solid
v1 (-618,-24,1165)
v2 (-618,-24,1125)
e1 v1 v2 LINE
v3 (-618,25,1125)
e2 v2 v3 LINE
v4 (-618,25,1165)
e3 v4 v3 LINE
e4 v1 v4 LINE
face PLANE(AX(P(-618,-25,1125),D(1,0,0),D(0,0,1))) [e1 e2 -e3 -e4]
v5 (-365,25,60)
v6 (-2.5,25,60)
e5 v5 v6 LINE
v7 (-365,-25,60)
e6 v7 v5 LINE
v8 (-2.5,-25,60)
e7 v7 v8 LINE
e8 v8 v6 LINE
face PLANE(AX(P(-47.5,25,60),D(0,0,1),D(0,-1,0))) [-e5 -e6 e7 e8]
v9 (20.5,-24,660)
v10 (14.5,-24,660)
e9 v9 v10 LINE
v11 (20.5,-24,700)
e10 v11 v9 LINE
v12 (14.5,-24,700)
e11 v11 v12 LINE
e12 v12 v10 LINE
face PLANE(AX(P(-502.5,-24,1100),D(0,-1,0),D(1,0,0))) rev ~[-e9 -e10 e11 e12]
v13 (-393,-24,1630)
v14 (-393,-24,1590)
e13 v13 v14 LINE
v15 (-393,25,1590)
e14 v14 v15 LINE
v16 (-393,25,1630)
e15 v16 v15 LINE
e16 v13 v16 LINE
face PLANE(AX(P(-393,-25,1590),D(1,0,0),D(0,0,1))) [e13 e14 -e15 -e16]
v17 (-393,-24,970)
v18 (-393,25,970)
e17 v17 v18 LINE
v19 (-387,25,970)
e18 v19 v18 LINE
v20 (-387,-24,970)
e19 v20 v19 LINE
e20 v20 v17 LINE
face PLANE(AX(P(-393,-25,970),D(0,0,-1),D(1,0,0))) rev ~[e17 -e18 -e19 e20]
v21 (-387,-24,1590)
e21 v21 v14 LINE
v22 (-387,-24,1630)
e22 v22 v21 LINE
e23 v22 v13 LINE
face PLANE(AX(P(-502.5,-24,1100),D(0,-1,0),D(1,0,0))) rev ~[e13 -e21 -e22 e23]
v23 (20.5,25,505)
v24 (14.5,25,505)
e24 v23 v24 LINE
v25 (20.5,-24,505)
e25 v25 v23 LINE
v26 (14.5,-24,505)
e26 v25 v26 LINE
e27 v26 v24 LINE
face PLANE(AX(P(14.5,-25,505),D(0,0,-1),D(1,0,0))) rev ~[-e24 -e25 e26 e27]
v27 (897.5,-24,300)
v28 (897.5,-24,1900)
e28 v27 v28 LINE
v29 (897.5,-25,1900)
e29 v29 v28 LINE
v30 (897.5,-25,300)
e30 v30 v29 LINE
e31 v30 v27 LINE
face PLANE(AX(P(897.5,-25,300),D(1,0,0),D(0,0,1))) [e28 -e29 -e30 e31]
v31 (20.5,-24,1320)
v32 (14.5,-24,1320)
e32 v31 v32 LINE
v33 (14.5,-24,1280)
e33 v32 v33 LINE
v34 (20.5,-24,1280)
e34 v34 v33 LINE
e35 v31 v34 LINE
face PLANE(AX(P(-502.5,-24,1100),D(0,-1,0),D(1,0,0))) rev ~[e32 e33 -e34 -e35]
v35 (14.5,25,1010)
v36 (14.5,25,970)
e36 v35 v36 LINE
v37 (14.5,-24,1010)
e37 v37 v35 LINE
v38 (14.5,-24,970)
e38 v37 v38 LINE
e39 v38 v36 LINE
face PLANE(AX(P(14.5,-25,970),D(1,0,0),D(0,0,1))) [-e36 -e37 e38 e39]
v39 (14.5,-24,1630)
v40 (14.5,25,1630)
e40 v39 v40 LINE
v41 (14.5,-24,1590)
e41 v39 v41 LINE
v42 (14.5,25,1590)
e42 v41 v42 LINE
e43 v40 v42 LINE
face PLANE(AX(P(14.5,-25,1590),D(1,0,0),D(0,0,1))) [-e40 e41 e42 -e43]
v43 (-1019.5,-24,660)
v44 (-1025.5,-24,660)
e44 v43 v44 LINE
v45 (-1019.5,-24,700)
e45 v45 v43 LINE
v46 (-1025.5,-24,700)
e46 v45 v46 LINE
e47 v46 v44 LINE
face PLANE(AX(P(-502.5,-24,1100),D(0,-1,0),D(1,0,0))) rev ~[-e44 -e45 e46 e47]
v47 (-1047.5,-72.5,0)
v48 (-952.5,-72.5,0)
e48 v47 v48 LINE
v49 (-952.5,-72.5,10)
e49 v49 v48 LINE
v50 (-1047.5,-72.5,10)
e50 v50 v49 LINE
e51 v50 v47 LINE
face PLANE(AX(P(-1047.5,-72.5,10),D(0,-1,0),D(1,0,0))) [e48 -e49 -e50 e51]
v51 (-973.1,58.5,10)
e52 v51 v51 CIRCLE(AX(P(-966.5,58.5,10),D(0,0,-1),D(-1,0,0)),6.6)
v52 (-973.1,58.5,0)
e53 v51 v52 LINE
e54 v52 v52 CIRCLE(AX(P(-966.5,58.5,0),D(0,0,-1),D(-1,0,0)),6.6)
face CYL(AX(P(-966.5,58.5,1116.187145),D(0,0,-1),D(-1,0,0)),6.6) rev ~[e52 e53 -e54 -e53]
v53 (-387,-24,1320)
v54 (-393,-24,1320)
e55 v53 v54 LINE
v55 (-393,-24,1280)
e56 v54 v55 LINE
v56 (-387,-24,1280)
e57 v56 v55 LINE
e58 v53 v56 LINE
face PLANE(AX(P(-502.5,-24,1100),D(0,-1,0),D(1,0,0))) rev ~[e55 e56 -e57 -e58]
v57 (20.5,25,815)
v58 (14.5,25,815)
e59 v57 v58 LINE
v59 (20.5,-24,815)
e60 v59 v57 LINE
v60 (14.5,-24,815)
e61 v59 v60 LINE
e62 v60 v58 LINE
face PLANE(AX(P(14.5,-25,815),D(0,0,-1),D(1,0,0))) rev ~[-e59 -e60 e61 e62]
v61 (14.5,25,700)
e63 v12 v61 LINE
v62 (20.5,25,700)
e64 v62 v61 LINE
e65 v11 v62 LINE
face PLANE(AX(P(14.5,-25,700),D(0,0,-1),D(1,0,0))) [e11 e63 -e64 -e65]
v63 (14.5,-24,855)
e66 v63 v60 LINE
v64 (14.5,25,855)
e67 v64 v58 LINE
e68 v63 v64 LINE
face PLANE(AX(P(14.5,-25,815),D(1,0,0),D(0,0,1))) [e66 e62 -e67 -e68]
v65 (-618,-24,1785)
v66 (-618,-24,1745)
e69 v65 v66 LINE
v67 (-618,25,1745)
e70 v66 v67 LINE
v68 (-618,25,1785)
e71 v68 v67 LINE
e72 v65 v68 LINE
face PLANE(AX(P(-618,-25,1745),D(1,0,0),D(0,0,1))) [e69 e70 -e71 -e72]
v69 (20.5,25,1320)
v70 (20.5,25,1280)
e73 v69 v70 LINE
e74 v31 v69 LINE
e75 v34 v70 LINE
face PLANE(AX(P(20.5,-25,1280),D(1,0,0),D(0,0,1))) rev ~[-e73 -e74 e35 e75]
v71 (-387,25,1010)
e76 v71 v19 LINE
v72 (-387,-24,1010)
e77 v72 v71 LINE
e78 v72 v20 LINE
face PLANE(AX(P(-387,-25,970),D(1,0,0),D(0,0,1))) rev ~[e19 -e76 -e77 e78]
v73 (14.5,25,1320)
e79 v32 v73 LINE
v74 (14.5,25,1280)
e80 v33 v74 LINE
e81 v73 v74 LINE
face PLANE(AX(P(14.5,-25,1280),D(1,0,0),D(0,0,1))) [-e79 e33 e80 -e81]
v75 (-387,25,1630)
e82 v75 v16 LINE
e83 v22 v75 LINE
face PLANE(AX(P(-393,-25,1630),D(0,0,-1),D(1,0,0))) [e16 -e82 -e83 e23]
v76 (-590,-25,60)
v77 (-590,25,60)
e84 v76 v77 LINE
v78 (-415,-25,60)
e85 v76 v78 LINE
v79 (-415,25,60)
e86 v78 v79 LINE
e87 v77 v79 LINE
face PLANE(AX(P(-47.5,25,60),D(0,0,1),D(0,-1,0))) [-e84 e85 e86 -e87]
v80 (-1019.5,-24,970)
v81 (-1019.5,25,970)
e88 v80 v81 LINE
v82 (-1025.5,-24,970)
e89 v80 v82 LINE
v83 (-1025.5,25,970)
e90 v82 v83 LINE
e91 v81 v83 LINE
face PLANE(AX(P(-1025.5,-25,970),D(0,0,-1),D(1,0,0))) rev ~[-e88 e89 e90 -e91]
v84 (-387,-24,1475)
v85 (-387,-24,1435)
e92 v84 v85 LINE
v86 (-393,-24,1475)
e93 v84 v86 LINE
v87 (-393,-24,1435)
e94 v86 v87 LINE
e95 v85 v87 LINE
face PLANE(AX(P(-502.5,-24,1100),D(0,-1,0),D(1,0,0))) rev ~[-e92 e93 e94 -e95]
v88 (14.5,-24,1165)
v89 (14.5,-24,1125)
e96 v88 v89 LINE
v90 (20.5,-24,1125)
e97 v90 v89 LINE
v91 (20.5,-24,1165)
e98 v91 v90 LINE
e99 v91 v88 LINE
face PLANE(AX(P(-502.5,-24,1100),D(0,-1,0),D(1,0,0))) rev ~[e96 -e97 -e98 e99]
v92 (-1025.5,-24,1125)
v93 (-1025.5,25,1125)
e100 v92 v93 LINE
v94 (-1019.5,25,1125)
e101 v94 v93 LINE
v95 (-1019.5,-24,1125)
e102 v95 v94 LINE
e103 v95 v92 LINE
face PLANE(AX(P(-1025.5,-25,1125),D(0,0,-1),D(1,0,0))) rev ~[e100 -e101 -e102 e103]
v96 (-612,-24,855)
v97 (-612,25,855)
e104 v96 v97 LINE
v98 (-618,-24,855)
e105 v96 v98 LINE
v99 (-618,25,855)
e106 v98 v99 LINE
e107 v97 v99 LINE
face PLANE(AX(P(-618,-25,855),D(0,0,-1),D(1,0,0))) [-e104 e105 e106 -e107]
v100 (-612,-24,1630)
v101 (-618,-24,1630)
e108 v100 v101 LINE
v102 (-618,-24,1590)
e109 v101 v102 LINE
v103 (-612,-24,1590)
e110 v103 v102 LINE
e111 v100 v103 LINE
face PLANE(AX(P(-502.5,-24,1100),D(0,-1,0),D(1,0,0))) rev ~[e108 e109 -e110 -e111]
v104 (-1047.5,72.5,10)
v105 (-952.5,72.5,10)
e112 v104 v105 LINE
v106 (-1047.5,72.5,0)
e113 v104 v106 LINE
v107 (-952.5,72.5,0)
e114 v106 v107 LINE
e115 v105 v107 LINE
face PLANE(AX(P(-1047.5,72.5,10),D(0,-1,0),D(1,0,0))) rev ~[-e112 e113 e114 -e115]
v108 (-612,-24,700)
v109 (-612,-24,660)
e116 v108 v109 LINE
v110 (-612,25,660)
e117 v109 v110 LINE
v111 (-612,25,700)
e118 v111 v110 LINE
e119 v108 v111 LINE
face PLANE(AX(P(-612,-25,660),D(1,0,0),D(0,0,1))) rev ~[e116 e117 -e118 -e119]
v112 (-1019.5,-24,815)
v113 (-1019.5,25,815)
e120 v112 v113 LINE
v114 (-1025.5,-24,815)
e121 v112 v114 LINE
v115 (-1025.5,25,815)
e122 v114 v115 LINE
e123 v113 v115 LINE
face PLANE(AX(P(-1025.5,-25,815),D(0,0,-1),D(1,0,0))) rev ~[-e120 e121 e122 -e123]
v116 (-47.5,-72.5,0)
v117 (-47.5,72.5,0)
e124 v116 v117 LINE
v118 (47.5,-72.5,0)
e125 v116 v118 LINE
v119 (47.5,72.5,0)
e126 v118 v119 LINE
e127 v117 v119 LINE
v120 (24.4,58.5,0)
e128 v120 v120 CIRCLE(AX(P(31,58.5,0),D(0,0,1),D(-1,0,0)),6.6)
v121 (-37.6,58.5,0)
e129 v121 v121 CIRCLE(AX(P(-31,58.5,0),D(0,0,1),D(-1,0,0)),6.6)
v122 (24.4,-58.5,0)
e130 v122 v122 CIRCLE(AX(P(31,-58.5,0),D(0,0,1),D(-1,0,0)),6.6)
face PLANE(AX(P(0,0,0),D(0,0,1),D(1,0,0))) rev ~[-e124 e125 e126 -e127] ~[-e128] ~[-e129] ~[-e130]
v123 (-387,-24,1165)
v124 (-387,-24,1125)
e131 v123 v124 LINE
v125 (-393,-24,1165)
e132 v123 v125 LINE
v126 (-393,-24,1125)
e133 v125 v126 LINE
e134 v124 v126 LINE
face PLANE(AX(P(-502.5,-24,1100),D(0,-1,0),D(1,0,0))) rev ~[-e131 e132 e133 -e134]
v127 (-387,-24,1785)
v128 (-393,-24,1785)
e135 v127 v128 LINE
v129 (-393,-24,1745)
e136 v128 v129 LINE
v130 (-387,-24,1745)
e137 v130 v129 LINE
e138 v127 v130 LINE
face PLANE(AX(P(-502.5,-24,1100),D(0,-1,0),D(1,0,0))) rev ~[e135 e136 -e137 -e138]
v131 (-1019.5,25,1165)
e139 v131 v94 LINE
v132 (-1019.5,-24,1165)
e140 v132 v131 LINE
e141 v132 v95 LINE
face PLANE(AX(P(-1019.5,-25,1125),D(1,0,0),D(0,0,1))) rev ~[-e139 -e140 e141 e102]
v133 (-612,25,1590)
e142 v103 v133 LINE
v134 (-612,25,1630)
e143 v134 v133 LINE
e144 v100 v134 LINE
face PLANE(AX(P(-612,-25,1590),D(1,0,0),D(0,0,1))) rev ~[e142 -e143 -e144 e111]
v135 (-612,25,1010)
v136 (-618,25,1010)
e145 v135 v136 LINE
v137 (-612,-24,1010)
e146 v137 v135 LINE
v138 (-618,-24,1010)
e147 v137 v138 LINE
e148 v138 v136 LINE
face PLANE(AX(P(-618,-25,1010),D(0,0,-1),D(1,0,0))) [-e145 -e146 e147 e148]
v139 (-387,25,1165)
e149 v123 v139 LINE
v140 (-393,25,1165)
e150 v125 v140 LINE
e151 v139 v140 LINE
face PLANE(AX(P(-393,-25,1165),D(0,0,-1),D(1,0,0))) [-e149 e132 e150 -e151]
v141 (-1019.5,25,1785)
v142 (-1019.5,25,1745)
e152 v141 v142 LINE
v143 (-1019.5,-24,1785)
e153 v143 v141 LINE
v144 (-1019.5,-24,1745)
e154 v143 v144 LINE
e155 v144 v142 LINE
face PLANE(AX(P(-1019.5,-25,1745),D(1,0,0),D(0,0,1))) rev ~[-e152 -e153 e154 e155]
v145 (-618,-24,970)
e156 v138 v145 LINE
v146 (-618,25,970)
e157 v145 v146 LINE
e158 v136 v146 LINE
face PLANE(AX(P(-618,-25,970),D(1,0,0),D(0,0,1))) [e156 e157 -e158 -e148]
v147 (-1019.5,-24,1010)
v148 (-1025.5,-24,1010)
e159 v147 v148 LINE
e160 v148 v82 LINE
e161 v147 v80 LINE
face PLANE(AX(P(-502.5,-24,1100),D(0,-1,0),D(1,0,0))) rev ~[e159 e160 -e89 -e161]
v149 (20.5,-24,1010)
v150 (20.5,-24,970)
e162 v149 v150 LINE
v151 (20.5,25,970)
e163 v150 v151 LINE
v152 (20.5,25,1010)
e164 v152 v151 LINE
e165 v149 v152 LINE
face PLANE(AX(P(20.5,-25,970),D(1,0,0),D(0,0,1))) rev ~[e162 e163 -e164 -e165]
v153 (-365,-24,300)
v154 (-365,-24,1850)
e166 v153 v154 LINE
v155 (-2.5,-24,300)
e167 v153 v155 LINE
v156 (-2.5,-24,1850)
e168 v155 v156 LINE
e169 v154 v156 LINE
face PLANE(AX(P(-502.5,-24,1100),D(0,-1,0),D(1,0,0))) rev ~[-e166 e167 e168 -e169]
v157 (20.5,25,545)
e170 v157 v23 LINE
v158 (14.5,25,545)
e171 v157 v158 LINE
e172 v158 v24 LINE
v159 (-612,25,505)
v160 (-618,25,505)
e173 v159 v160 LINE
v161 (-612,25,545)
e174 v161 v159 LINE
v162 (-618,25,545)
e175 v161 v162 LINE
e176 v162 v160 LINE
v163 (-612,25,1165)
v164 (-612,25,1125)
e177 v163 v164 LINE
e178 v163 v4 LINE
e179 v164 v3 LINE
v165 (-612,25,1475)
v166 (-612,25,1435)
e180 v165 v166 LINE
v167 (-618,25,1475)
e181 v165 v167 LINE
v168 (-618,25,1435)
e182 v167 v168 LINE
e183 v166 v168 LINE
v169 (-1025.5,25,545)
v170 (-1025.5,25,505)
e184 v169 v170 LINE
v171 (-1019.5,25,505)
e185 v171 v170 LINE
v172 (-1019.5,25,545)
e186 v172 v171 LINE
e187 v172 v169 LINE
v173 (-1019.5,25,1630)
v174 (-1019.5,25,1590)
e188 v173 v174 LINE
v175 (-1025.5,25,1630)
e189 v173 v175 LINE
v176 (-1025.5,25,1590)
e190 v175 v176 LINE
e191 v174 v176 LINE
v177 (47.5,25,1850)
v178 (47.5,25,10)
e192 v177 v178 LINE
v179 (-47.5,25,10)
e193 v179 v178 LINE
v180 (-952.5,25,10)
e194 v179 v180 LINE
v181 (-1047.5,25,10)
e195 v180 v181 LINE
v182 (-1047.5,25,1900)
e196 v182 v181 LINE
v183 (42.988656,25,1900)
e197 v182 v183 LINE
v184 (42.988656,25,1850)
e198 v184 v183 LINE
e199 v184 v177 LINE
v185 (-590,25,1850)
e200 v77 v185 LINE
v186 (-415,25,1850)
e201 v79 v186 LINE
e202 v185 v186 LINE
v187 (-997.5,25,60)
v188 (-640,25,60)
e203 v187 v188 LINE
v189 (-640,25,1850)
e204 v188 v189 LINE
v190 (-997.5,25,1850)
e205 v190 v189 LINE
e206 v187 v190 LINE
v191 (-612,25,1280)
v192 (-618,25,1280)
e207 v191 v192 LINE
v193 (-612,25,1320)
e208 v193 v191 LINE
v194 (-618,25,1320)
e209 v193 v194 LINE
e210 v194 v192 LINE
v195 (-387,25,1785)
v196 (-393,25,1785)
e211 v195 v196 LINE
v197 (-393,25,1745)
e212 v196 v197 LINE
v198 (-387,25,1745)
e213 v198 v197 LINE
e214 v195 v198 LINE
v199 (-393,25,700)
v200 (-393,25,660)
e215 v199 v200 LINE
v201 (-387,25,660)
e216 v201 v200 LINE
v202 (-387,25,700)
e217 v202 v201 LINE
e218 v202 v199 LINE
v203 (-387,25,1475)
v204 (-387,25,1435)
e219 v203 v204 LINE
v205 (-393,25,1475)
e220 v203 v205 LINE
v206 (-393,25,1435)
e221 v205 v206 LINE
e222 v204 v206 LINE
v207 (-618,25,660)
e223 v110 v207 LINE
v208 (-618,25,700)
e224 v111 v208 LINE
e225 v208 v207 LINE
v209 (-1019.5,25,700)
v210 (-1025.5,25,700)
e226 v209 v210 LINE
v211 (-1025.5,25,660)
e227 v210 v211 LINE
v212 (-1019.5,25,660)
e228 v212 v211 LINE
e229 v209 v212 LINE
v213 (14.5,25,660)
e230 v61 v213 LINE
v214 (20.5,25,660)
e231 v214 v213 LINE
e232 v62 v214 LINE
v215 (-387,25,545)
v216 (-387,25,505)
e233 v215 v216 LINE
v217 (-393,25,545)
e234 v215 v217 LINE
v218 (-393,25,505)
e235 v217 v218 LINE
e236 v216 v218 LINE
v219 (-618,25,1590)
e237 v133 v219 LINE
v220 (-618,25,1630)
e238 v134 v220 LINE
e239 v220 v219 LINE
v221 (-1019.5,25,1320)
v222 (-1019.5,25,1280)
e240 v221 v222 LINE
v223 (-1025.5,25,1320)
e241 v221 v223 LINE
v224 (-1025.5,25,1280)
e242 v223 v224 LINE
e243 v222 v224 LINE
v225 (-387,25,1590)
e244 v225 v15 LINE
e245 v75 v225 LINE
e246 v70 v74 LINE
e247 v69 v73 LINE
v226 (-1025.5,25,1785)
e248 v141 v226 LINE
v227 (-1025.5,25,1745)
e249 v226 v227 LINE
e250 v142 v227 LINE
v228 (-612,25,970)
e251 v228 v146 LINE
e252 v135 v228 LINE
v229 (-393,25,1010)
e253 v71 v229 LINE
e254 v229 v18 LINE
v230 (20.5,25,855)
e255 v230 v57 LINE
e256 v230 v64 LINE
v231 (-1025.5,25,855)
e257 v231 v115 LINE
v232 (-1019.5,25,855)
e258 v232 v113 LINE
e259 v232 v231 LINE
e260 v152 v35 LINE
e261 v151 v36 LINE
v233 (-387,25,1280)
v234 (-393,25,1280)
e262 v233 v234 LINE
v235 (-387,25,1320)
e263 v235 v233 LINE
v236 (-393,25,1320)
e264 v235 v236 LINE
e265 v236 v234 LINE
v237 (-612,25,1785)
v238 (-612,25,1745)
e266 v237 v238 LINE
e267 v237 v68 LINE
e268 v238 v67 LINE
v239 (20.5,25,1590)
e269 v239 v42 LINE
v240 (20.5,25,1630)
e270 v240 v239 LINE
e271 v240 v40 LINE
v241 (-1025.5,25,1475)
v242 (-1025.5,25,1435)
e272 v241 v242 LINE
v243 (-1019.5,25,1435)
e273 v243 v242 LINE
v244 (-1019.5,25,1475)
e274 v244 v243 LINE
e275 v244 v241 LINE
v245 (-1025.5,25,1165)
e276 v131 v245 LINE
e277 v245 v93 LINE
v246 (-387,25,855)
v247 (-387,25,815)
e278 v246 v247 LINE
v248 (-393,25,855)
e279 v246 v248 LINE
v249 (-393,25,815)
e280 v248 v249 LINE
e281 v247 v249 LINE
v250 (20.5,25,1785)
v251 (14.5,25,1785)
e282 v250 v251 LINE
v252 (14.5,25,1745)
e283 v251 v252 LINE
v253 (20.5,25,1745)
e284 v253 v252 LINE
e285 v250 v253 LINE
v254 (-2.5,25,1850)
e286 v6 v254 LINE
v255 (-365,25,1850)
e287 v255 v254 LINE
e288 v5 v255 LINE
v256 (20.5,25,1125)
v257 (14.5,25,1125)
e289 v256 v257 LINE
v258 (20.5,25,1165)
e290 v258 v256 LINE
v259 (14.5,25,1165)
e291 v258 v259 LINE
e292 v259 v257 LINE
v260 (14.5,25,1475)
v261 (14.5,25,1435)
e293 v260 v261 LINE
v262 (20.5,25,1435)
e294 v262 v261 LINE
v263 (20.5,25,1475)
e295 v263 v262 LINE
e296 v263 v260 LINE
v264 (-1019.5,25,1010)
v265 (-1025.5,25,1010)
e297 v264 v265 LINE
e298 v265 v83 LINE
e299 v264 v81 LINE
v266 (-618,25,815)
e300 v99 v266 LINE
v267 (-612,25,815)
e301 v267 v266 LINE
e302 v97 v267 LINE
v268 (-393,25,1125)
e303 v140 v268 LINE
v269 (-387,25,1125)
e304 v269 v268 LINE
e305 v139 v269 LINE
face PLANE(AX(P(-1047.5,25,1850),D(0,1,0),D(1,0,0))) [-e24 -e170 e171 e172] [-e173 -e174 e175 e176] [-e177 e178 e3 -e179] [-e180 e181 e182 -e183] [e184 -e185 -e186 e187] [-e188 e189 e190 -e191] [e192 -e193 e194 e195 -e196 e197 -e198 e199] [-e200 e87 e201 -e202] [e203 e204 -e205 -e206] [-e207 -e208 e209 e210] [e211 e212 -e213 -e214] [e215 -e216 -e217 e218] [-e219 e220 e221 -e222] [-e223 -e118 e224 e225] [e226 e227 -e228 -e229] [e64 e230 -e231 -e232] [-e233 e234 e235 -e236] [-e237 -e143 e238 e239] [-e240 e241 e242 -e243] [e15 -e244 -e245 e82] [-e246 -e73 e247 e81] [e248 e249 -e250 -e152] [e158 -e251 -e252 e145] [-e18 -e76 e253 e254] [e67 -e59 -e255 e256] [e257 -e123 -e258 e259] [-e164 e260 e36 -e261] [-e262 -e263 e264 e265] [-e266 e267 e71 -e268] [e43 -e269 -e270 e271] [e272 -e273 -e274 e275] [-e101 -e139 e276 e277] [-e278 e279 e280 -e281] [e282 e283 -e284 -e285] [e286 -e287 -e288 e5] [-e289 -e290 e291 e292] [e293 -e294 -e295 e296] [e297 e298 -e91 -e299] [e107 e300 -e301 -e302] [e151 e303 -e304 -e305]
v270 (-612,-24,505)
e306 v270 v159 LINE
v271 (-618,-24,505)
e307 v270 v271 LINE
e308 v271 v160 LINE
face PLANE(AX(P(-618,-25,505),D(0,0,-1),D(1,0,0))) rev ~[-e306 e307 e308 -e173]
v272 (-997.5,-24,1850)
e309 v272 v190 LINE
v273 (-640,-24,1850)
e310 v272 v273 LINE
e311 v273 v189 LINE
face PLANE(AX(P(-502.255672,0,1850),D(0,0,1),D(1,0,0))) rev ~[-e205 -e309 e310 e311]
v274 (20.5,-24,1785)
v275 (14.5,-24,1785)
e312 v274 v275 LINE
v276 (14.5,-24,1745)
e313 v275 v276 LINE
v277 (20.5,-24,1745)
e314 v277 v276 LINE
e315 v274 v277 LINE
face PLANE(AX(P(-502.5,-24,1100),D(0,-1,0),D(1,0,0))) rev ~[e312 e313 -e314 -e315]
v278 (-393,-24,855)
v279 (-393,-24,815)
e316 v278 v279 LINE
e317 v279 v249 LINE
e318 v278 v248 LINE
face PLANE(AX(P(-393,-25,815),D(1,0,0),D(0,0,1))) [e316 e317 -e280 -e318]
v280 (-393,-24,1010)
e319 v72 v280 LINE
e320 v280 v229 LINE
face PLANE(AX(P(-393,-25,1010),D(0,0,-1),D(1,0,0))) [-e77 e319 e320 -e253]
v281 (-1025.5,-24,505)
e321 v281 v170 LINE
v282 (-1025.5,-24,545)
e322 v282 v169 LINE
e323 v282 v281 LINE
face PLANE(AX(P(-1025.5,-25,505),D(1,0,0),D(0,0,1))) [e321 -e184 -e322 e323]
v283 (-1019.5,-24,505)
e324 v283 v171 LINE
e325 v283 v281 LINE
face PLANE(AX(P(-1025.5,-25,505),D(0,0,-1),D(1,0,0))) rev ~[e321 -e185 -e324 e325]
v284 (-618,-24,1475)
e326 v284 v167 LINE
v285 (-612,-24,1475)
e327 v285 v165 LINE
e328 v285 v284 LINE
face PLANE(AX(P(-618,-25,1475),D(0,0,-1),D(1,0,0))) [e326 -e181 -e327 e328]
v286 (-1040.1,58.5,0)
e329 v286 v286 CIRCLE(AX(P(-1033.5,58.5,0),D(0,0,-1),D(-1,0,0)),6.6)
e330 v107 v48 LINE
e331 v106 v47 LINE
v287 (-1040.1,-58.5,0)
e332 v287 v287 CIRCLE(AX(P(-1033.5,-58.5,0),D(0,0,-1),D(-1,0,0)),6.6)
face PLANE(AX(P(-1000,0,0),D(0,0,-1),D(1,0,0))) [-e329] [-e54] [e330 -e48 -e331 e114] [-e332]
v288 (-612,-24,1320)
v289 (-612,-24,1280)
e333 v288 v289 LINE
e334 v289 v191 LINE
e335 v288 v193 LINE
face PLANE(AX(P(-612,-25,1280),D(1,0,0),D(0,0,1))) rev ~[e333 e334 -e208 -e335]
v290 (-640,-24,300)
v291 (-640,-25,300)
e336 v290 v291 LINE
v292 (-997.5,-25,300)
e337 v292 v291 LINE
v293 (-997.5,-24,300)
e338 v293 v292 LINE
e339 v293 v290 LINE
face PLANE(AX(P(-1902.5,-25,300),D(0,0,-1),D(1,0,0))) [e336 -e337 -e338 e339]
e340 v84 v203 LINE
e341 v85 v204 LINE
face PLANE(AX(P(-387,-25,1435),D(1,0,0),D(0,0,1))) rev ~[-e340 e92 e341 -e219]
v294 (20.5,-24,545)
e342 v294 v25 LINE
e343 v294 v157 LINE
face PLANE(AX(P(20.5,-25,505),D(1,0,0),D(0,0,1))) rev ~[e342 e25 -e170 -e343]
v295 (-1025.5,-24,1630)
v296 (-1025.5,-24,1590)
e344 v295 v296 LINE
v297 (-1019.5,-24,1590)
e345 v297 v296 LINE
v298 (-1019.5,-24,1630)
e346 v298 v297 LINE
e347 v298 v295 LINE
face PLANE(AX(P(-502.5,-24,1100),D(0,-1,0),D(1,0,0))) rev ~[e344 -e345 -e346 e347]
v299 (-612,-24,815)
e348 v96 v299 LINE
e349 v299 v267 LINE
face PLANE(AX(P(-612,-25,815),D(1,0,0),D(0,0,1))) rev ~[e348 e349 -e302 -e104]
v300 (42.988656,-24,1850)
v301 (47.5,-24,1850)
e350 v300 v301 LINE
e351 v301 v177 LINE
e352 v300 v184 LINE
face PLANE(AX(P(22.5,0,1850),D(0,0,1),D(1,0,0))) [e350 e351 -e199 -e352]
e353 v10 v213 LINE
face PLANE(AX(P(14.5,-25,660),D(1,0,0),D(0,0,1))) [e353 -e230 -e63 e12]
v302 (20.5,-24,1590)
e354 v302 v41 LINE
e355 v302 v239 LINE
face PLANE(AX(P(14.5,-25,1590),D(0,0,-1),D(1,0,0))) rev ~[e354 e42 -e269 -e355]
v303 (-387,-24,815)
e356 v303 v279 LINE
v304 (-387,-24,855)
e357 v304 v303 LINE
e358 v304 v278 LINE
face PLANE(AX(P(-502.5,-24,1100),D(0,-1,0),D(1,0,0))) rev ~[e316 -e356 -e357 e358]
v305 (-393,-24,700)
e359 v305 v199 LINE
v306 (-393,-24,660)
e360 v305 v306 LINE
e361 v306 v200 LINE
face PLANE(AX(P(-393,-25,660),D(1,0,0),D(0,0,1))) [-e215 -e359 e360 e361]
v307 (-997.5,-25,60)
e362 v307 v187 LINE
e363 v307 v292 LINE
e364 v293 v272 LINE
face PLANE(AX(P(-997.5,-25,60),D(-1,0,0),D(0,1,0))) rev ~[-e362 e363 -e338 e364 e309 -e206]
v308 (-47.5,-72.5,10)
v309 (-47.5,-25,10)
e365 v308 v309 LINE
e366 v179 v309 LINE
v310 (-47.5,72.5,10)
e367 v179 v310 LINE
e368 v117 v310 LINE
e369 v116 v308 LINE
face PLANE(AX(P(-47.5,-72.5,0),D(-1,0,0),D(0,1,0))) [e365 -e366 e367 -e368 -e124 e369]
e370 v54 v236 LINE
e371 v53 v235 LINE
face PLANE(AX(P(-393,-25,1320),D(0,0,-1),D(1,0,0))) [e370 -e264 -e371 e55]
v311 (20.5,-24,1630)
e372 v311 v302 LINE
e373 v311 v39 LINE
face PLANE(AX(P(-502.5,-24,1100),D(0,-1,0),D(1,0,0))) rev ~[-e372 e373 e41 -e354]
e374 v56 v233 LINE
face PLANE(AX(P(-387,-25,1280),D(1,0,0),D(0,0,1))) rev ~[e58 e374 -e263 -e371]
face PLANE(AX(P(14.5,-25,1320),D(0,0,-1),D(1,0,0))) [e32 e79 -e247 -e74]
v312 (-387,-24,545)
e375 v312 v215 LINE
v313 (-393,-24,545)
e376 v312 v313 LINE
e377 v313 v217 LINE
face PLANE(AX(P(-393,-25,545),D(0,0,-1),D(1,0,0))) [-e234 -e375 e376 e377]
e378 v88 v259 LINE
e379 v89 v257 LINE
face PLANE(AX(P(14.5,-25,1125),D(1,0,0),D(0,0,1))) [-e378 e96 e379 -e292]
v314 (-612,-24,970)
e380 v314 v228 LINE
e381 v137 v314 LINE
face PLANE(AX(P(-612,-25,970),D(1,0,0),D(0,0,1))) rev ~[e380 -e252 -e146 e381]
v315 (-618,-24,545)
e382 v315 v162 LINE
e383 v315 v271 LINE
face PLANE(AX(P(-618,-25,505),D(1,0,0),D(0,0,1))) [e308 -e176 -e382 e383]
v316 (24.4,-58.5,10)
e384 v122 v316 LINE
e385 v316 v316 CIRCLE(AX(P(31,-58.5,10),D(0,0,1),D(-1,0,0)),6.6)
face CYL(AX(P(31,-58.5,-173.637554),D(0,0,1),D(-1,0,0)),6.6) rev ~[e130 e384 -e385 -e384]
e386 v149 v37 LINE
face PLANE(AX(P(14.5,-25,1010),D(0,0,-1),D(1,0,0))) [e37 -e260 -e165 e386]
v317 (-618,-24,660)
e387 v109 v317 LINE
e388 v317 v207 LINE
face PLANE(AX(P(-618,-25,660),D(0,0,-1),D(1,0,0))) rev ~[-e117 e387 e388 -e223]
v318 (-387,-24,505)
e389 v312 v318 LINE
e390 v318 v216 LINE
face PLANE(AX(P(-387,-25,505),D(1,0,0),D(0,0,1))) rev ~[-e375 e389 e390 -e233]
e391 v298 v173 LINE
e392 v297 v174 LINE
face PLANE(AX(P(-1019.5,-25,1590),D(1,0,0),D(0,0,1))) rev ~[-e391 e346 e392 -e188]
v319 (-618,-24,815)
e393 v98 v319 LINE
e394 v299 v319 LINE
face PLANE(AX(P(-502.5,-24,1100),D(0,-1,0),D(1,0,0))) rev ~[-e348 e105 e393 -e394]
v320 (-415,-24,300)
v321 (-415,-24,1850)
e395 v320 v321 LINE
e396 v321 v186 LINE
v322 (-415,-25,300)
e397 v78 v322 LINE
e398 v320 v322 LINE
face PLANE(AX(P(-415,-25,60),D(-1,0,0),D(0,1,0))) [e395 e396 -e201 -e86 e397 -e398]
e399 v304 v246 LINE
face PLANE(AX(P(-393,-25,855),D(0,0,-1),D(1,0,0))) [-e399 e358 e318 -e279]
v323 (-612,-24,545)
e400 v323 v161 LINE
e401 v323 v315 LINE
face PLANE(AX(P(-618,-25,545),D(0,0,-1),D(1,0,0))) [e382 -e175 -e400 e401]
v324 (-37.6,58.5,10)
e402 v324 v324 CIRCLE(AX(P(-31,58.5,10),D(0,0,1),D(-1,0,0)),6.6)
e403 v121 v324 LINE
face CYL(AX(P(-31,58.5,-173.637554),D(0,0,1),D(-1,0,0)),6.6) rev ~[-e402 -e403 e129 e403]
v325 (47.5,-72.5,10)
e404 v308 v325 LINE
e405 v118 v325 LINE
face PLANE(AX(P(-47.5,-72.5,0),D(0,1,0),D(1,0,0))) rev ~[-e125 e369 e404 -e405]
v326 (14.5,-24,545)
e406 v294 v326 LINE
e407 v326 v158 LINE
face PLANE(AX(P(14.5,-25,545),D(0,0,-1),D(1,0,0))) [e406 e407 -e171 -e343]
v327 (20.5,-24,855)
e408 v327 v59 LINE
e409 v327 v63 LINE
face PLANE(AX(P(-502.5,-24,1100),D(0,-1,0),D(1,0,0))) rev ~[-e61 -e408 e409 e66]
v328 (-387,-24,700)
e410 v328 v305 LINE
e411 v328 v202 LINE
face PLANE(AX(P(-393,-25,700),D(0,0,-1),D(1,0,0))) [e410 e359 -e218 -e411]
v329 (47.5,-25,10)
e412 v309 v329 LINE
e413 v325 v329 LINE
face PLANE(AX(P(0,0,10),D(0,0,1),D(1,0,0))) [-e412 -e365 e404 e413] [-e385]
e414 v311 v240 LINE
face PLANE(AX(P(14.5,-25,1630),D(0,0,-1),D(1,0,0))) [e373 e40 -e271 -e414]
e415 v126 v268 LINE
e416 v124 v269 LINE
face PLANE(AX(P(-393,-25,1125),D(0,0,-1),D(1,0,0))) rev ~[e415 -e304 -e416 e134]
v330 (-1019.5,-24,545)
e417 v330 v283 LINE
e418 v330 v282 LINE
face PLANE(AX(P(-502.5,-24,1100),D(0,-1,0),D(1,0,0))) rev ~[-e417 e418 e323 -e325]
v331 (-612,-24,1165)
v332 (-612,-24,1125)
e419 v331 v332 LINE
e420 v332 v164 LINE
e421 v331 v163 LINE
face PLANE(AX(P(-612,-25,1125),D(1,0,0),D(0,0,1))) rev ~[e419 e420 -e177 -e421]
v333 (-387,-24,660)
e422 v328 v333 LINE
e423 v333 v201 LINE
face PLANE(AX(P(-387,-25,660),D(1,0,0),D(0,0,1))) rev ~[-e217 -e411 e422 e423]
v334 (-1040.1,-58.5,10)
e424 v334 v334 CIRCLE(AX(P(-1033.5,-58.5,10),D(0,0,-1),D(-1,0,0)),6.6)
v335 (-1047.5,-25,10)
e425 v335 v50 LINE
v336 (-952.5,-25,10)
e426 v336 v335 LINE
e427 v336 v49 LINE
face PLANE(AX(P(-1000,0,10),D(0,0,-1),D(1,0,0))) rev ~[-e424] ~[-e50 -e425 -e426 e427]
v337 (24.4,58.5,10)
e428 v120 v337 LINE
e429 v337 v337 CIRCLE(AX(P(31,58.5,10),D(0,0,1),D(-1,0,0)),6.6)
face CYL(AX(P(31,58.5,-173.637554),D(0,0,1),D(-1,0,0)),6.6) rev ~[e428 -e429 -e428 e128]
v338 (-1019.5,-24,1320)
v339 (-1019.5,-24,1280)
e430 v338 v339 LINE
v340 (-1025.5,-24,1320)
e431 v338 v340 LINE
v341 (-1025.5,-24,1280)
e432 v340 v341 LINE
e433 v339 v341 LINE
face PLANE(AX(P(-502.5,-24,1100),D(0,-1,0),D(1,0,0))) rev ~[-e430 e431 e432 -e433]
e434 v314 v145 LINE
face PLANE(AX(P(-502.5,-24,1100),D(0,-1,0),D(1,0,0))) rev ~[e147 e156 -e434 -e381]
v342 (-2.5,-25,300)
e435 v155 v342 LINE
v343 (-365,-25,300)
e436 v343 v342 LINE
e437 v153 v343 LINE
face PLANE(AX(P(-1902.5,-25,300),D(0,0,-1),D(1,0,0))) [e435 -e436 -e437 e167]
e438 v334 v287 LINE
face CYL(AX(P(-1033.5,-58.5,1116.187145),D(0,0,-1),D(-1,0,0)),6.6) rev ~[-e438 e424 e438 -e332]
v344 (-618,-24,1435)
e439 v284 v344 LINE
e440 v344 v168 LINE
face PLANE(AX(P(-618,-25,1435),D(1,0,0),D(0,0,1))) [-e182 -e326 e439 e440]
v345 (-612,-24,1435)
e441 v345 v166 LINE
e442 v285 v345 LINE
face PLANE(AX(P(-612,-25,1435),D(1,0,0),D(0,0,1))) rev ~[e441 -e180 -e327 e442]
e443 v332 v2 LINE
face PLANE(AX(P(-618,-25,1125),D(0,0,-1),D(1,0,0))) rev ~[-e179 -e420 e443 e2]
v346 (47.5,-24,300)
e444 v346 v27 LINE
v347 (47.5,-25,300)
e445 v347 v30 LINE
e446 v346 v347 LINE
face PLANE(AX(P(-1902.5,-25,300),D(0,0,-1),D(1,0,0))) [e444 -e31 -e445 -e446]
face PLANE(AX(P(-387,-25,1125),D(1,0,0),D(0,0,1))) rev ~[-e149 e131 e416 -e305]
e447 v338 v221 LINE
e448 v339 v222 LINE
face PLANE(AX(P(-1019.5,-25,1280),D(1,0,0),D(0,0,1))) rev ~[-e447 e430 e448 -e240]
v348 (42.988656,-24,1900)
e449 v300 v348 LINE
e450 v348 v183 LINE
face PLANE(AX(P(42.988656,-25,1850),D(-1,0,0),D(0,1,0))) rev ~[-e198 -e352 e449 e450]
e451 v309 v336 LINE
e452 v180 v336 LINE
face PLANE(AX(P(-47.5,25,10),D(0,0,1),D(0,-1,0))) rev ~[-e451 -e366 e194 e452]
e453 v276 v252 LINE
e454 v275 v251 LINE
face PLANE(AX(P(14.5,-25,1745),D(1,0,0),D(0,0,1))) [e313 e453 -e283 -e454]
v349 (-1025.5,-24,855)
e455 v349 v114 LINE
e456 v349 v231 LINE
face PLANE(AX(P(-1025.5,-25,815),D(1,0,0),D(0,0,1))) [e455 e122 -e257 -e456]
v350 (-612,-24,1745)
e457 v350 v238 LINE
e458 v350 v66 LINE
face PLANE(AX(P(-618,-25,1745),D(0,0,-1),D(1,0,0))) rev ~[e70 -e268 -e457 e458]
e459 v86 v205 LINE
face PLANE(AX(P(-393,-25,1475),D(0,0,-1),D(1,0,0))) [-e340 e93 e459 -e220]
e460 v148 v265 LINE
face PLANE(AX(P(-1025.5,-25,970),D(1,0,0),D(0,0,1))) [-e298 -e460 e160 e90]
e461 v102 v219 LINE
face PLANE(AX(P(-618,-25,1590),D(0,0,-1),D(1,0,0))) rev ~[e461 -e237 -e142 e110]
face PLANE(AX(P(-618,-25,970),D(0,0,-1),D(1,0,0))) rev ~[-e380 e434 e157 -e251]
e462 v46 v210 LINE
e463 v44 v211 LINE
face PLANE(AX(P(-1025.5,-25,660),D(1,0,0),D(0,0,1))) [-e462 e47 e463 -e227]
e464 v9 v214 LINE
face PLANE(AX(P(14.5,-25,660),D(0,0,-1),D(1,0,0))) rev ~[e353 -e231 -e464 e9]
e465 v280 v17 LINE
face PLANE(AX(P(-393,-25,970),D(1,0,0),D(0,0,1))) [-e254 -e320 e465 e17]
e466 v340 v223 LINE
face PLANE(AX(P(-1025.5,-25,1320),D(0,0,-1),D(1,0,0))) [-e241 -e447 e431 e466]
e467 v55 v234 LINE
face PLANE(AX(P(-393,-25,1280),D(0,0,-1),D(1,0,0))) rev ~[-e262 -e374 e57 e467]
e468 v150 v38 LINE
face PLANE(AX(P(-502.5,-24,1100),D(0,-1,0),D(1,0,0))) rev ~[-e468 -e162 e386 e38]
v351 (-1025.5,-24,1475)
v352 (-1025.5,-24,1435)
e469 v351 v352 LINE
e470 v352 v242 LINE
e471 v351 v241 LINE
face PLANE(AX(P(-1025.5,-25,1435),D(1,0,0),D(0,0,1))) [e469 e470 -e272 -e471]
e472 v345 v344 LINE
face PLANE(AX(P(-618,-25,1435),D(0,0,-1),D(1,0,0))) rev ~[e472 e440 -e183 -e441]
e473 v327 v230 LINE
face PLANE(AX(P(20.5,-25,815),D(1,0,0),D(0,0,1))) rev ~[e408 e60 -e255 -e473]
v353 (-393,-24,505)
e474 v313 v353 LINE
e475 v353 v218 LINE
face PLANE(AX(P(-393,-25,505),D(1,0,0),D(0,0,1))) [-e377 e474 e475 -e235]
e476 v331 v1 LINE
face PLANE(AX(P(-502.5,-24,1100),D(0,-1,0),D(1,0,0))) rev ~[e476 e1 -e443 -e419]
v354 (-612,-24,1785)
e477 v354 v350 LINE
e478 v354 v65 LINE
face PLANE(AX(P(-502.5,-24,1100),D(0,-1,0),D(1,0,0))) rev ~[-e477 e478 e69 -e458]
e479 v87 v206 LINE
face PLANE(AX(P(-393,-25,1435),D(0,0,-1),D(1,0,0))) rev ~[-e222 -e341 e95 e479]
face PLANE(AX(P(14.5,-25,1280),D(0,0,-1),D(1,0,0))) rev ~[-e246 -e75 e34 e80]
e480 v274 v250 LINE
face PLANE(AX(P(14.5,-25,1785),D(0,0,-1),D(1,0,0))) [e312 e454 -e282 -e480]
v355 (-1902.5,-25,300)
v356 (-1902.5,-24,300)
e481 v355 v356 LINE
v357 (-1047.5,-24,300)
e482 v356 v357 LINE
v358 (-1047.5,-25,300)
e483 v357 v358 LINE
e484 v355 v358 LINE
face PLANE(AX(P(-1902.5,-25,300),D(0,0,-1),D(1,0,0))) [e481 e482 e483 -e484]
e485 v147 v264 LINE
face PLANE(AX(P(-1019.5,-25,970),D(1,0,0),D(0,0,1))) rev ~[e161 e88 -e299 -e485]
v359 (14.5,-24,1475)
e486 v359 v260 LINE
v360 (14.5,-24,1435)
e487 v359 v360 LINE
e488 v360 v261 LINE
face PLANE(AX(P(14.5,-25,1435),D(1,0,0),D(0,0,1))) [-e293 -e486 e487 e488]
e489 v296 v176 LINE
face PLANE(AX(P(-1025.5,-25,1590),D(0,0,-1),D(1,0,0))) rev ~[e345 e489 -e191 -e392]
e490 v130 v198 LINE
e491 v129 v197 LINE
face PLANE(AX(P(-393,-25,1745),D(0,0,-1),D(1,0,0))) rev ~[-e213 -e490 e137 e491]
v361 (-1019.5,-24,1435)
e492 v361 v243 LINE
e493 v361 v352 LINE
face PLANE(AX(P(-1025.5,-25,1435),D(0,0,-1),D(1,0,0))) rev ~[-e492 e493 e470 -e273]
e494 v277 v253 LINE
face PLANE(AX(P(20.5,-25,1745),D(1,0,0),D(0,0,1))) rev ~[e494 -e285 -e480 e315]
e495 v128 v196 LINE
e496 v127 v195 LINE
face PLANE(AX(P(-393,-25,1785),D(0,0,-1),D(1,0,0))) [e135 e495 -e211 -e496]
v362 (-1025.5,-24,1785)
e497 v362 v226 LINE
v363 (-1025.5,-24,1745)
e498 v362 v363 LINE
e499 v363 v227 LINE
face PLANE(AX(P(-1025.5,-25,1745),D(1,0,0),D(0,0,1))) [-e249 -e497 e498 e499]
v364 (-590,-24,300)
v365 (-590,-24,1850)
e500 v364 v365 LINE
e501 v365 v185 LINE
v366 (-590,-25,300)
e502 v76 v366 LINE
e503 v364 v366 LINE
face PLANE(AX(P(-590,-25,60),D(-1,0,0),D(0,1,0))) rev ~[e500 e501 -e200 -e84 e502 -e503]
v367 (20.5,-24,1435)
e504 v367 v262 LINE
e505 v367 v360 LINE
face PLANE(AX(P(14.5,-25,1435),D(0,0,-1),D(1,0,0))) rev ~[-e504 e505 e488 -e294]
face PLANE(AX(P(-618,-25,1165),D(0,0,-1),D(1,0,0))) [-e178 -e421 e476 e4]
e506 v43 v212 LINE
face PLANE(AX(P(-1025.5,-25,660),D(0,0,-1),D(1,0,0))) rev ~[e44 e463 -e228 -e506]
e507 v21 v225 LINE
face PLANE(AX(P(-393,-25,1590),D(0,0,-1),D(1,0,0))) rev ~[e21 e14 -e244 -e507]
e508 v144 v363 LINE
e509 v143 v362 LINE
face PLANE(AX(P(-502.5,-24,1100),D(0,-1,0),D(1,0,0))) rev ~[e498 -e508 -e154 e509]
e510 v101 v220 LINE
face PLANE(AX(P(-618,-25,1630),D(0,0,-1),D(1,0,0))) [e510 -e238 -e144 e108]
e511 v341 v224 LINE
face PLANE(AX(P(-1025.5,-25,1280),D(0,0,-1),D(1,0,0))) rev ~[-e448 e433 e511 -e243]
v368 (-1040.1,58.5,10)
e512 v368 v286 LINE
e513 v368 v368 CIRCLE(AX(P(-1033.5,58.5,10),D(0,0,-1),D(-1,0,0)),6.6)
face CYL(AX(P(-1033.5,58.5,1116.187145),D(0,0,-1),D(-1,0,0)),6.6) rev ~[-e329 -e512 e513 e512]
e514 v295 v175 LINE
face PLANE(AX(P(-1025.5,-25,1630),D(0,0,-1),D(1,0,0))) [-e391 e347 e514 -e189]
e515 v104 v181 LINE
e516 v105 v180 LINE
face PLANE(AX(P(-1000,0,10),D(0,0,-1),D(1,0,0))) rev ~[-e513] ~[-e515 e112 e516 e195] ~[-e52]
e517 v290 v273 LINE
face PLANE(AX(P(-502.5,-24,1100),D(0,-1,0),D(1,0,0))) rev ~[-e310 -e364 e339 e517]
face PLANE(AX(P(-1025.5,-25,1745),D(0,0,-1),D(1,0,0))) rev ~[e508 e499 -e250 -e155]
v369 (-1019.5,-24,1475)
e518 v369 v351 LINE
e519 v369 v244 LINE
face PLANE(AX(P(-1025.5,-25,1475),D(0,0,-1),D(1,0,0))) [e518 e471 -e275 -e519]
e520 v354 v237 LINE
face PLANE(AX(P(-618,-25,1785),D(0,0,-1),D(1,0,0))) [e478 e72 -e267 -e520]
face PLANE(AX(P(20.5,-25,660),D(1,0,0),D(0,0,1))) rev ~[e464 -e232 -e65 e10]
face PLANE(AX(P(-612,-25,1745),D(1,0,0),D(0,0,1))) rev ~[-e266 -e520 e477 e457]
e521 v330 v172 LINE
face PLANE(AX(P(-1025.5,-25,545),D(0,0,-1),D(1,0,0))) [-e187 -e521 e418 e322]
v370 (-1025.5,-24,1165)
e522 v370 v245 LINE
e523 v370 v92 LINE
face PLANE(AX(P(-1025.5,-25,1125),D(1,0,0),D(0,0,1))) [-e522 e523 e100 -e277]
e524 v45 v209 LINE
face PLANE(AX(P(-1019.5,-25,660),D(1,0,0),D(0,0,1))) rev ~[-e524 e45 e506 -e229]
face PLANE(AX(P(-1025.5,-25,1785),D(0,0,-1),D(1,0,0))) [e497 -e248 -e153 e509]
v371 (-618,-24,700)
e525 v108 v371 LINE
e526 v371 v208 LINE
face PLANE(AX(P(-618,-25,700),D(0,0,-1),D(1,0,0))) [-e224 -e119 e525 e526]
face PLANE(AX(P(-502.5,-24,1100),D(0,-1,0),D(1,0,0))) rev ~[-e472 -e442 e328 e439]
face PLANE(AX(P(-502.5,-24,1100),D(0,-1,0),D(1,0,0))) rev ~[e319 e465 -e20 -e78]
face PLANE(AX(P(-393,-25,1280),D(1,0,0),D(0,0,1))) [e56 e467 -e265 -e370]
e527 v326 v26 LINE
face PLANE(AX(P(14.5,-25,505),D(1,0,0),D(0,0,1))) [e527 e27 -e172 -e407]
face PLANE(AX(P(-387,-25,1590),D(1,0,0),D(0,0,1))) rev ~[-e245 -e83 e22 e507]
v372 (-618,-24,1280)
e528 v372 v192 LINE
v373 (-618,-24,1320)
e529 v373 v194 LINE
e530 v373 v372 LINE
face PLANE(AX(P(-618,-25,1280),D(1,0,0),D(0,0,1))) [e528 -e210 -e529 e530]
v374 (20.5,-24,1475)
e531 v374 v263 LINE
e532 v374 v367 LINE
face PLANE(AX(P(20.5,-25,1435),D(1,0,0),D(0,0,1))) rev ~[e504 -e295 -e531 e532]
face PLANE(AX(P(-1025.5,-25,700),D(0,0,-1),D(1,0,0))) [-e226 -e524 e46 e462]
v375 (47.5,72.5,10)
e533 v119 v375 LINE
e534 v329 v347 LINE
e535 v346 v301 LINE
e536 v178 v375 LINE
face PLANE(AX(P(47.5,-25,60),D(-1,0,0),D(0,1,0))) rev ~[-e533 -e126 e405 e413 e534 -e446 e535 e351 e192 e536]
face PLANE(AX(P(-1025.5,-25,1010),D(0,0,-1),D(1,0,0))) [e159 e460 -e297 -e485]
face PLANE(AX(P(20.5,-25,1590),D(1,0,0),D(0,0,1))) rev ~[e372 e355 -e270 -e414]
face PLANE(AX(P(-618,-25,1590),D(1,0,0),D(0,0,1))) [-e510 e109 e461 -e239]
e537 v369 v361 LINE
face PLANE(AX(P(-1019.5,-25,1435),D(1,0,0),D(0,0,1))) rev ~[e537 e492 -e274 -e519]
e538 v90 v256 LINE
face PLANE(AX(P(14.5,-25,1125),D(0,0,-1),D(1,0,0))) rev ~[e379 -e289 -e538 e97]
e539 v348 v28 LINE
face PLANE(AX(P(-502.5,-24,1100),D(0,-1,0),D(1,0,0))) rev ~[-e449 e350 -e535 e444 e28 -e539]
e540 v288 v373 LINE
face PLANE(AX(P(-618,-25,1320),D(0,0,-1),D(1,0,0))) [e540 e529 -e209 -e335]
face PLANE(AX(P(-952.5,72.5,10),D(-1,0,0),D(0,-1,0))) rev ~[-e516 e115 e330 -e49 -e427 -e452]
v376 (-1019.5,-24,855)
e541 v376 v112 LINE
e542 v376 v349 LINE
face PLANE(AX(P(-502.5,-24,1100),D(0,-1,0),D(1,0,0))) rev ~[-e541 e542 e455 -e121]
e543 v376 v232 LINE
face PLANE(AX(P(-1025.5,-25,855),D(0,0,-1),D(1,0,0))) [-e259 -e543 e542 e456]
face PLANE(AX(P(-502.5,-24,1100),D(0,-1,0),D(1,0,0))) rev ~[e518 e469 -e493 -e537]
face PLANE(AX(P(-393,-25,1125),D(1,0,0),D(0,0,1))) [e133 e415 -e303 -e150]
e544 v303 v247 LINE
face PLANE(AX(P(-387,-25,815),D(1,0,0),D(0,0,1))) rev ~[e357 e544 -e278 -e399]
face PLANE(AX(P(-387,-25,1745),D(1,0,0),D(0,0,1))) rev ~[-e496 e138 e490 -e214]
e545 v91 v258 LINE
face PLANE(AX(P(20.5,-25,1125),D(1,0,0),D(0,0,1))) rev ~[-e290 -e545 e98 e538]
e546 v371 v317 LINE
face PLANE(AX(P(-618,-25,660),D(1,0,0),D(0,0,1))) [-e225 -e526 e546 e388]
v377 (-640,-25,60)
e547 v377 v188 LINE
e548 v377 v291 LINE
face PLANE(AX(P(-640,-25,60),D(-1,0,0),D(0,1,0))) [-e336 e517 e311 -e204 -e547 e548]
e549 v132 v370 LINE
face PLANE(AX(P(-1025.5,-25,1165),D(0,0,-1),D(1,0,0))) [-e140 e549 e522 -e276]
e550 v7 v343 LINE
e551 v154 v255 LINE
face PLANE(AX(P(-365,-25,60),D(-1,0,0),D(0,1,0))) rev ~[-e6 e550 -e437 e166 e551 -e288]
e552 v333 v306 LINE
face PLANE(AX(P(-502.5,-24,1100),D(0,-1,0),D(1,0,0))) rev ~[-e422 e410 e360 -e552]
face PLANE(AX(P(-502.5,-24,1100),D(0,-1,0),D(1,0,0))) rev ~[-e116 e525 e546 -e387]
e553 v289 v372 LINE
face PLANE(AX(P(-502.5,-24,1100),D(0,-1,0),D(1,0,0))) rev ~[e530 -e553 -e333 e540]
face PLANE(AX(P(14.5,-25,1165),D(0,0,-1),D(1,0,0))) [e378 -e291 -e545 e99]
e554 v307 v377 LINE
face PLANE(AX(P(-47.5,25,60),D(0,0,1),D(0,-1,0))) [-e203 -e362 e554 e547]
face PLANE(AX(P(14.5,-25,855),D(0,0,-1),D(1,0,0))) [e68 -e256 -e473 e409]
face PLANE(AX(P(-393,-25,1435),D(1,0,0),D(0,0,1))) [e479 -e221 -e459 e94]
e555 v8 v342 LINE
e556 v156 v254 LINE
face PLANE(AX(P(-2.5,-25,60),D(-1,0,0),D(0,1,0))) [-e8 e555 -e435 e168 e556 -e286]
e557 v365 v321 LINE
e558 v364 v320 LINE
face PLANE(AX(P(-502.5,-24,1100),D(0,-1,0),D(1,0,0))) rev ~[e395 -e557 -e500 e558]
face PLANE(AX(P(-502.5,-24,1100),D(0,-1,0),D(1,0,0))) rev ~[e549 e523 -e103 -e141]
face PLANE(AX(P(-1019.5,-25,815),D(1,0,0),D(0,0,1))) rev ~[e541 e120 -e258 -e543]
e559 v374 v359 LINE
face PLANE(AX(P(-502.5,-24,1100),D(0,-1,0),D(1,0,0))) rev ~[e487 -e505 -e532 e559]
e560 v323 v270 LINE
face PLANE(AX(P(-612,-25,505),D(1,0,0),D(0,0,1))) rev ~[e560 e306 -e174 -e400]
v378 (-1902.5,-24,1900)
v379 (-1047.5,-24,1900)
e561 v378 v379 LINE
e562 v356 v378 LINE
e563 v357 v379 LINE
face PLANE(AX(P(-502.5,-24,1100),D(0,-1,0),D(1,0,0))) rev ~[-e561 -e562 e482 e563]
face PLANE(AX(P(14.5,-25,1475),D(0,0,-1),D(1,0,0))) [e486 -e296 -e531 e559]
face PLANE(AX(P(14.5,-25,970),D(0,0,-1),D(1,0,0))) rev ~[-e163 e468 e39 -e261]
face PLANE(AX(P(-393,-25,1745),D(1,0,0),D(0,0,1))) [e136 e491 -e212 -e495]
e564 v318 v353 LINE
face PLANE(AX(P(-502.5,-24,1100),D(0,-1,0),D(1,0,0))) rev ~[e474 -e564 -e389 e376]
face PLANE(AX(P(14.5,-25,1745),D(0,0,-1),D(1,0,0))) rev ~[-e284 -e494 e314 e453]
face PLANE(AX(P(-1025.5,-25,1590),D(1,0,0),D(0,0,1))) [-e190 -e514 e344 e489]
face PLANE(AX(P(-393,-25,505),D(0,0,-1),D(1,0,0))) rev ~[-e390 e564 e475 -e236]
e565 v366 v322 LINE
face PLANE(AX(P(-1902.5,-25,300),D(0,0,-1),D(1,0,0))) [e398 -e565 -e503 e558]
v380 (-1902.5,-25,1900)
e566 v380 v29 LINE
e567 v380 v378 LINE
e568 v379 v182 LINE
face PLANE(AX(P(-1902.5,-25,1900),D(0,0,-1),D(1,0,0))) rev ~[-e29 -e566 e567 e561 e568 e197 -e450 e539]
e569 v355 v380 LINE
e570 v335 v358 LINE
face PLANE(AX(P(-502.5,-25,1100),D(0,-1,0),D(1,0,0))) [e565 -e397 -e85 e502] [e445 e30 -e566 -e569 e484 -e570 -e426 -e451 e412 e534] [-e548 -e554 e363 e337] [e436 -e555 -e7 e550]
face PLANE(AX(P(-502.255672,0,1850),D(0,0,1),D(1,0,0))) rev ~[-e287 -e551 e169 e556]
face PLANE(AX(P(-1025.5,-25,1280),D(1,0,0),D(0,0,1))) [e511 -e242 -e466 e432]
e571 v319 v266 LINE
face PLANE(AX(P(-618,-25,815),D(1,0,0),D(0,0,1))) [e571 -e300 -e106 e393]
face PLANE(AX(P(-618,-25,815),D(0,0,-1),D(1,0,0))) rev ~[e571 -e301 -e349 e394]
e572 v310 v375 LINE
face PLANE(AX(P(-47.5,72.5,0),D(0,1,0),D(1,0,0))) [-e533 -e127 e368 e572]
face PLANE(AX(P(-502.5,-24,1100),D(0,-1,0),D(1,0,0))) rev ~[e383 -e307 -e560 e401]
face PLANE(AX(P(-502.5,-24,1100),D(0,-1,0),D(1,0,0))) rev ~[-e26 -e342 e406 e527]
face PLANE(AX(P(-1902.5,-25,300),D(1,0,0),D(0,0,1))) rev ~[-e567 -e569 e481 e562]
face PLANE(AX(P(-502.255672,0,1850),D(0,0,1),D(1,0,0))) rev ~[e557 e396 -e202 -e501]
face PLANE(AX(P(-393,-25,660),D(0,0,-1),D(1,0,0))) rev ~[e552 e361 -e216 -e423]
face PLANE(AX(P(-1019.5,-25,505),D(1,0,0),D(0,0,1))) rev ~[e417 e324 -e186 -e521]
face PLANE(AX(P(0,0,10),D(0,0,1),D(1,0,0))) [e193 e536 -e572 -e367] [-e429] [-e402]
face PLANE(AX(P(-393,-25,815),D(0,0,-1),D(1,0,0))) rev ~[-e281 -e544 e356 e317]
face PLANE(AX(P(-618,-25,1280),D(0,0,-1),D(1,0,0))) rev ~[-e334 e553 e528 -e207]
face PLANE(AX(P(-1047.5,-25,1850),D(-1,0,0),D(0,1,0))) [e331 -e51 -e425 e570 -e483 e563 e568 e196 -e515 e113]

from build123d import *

# Parameters (mm, degrees)
F0_W      = 95
F0_H      = 145
F1_DEPTH  = 10
F3_D      = 13.2
F4_W      = 95
F4_H      = 50
F5_DEPTH  = 50
F6_W      = 50
F6_H      = 50
F7_DEPTH  = 1000
F8_W      = 95
F8_H      = 145
F9_DEPTH  = 10
F11_D     = 13.2
F12_W     = 50
F12_H     = 50
F13_DEPTH = 1790
F14_W     = 1090.4886555672
F14_H     = 50
F15_DEPTH = 50
F16_W     = 6
F16_H     = 40
F17_DEPTH = 97.501
F18_W     = 6
F18_H     = 40
F19_DEPTH = 97.501
F20_W     = 2800
F20_H     = 1600
F21_DEPTH = 1


with BuildPart() as f1:
    # F0 (on Top) → F1 (new body)
    with BuildSketch(Plane.XY):
        Rectangle(F0_W, F0_H)
    extrude(amount=F1_DEPTH)

    # F3 (through all)
    with Locations(Plane(origin=(0, 0, 0), x_dir=(1, 0, 0), z_dir=(0, 0, -1))):
        with Locations((31, -58.5), (31, 58.5), (-31, -58.5)):
            Hole(F3_D / 2)

    # F4 (on face) → F5 (join)
    with BuildSketch(Plane.XY.offset(10)):
        Rectangle(F4_W, F4_H)
    extrude(amount=F5_DEPTH)

    # F6 (on face) → F7 (join)
    with BuildSketch(Plane(origin=(-47.5, 0, 0), x_dir=(0, -1, 0), z_dir=(-1, 0, 0))):
        with Locations((0, 35)):
            Rectangle(F6_W, F6_H)
    extrude(amount=F7_DEPTH)

    # F8 (on face) → F9 (join)
    with BuildSketch(Plane(origin=(0, 0, 10), x_dir=(1, 0, 0), z_dir=(0, 0, -1))):
        with Locations((-1000, 0)):
            Rectangle(F8_W, F8_H)
    extrude(amount=F9_DEPTH)

    # F11 (through all)
    with Locations(Plane.XY.offset(10)):
        with Locations((-966.5, 58.5), (-1033.5, -58.5), (-1033.5, 58.5)):
            Hole(F11_D / 2)

    # F12 (on face) → F13 (join)
    with BuildSketch(Plane.XY.offset(60)):
        with Locations((22.5, 0)):
            Rectangle(F12_W, F12_H)
        with Locations((-390, 0)):
            Rectangle(F12_W, F12_H)
        with Locations((-1022.5, 0)):
            Rectangle(F12_W, F12_H)
        with Locations((-615, 0)):
            Rectangle(F12_W, F12_H)
    extrude(amount=F13_DEPTH)

    # F14 (on face) → F15 (join)
    with BuildSketch(Plane.XY.offset(1850)):
        with Locations((-502.2556722164, 0)):
            Rectangle(F14_W, F14_H)
    extrude(amount=F15_DEPTH)

    # F16 (on face) → F17 (cut, through all)
    with BuildSketch(Plane.XZ.offset(25)):
        with Locations((-1022.5, 525)):
            Rectangle(F16_W, F16_H)
        with Locations((-1022.5, 680)):
            Rectangle(F16_W, F16_H)
        with Locations((-1022.5, 835)):
            Rectangle(F16_W, F16_H)
        with Locations((-1022.5, 990)):
            Rectangle(F16_W, F16_H)
        with Locations((-1022.5, 1145)):
            Rectangle(F16_W, F16_H)
        with Locations((-1022.5, 1300)):
            Rectangle(F16_W, F16_H)
        with Locations((-1022.5, 1455)):
            Rectangle(F16_W, F16_H)
        with Locations((-1022.5, 1610)):
            Rectangle(F16_W, F16_H)
        with Locations((-1022.5, 1765)):
            Rectangle(F16_W, F16_H)
        with Locations((-615, 525)):
            Rectangle(F16_W, F16_H)
        with Locations((-615, 680)):
            Rectangle(F16_W, F16_H)
        with Locations((-615, 835)):
            Rectangle(F16_W, F16_H)
        with Locations((-615, 990)):
            Rectangle(F16_W, F16_H)
        with Locations((-615, 1145)):
            Rectangle(F16_W, F16_H)
        with Locations((-615, 1300)):
            Rectangle(F16_W, F16_H)
        with Locations((-615, 1455)):
            Rectangle(F16_W, F16_H)
        with Locations((-615, 1610)):
            Rectangle(F16_W, F16_H)
        with Locations((-615, 1765)):
            Rectangle(F16_W, F16_H)
    extrude(amount=-F17_DEPTH, mode=Mode.SUBTRACT)

    # F18 (on face) → F19 (cut, through all)
    with BuildSketch(Plane.XZ.offset(25)):
        with Locations((-390, 525)):
            Rectangle(F18_W, F18_H)
        with Locations((-390, 680)):
            Rectangle(F18_W, F18_H)
        with Locations((-390, 835)):
            Rectangle(F18_W, F18_H)
        with Locations((-390, 990)):
            Rectangle(F18_W, F18_H)
        with Locations((-390, 1145)):
            Rectangle(F18_W, F18_H)
        with Locations((-390, 1300)):
            Rectangle(F18_W, F18_H)
        with Locations((-390, 1455)):
            Rectangle(F18_W, F18_H)
        with Locations((-390, 1610)):
            Rectangle(F18_W, F18_H)
        with Locations((-390, 1765)):
            Rectangle(F18_W, F18_H)
        with Locations((17.5, 525)):
            Rectangle(F18_W, F18_H)
        with Locations((17.5, 680)):
            Rectangle(F18_W, F18_H)
        with Locations((17.5, 835)):
            Rectangle(F18_W, F18_H)
        with Locations((17.5, 990)):
            Rectangle(F18_W, F18_H)
        with Locations((17.5, 1145)):
            Rectangle(F18_W, F18_H)
        with Locations((17.5, 1300)):
            Rectangle(F18_W, F18_H)
        with Locations((17.5, 1455)):
            Rectangle(F18_W, F18_H)
        with Locations((17.5, 1610)):
            Rectangle(F18_W, F18_H)
        with Locations((17.5, 1765)):
            Rectangle(F18_W, F18_H)
    extrude(amount=-F19_DEPTH, mode=Mode.SUBTRACT)

    # F20 (on face) → F21 (join)
    with BuildSketch(Plane.XZ.offset(25)):
        with Locations((-502.5, 1100)):
            Rectangle(F20_W, F20_H)
    extrude(amount=-F21_DEPTH)


solid = f1.part
